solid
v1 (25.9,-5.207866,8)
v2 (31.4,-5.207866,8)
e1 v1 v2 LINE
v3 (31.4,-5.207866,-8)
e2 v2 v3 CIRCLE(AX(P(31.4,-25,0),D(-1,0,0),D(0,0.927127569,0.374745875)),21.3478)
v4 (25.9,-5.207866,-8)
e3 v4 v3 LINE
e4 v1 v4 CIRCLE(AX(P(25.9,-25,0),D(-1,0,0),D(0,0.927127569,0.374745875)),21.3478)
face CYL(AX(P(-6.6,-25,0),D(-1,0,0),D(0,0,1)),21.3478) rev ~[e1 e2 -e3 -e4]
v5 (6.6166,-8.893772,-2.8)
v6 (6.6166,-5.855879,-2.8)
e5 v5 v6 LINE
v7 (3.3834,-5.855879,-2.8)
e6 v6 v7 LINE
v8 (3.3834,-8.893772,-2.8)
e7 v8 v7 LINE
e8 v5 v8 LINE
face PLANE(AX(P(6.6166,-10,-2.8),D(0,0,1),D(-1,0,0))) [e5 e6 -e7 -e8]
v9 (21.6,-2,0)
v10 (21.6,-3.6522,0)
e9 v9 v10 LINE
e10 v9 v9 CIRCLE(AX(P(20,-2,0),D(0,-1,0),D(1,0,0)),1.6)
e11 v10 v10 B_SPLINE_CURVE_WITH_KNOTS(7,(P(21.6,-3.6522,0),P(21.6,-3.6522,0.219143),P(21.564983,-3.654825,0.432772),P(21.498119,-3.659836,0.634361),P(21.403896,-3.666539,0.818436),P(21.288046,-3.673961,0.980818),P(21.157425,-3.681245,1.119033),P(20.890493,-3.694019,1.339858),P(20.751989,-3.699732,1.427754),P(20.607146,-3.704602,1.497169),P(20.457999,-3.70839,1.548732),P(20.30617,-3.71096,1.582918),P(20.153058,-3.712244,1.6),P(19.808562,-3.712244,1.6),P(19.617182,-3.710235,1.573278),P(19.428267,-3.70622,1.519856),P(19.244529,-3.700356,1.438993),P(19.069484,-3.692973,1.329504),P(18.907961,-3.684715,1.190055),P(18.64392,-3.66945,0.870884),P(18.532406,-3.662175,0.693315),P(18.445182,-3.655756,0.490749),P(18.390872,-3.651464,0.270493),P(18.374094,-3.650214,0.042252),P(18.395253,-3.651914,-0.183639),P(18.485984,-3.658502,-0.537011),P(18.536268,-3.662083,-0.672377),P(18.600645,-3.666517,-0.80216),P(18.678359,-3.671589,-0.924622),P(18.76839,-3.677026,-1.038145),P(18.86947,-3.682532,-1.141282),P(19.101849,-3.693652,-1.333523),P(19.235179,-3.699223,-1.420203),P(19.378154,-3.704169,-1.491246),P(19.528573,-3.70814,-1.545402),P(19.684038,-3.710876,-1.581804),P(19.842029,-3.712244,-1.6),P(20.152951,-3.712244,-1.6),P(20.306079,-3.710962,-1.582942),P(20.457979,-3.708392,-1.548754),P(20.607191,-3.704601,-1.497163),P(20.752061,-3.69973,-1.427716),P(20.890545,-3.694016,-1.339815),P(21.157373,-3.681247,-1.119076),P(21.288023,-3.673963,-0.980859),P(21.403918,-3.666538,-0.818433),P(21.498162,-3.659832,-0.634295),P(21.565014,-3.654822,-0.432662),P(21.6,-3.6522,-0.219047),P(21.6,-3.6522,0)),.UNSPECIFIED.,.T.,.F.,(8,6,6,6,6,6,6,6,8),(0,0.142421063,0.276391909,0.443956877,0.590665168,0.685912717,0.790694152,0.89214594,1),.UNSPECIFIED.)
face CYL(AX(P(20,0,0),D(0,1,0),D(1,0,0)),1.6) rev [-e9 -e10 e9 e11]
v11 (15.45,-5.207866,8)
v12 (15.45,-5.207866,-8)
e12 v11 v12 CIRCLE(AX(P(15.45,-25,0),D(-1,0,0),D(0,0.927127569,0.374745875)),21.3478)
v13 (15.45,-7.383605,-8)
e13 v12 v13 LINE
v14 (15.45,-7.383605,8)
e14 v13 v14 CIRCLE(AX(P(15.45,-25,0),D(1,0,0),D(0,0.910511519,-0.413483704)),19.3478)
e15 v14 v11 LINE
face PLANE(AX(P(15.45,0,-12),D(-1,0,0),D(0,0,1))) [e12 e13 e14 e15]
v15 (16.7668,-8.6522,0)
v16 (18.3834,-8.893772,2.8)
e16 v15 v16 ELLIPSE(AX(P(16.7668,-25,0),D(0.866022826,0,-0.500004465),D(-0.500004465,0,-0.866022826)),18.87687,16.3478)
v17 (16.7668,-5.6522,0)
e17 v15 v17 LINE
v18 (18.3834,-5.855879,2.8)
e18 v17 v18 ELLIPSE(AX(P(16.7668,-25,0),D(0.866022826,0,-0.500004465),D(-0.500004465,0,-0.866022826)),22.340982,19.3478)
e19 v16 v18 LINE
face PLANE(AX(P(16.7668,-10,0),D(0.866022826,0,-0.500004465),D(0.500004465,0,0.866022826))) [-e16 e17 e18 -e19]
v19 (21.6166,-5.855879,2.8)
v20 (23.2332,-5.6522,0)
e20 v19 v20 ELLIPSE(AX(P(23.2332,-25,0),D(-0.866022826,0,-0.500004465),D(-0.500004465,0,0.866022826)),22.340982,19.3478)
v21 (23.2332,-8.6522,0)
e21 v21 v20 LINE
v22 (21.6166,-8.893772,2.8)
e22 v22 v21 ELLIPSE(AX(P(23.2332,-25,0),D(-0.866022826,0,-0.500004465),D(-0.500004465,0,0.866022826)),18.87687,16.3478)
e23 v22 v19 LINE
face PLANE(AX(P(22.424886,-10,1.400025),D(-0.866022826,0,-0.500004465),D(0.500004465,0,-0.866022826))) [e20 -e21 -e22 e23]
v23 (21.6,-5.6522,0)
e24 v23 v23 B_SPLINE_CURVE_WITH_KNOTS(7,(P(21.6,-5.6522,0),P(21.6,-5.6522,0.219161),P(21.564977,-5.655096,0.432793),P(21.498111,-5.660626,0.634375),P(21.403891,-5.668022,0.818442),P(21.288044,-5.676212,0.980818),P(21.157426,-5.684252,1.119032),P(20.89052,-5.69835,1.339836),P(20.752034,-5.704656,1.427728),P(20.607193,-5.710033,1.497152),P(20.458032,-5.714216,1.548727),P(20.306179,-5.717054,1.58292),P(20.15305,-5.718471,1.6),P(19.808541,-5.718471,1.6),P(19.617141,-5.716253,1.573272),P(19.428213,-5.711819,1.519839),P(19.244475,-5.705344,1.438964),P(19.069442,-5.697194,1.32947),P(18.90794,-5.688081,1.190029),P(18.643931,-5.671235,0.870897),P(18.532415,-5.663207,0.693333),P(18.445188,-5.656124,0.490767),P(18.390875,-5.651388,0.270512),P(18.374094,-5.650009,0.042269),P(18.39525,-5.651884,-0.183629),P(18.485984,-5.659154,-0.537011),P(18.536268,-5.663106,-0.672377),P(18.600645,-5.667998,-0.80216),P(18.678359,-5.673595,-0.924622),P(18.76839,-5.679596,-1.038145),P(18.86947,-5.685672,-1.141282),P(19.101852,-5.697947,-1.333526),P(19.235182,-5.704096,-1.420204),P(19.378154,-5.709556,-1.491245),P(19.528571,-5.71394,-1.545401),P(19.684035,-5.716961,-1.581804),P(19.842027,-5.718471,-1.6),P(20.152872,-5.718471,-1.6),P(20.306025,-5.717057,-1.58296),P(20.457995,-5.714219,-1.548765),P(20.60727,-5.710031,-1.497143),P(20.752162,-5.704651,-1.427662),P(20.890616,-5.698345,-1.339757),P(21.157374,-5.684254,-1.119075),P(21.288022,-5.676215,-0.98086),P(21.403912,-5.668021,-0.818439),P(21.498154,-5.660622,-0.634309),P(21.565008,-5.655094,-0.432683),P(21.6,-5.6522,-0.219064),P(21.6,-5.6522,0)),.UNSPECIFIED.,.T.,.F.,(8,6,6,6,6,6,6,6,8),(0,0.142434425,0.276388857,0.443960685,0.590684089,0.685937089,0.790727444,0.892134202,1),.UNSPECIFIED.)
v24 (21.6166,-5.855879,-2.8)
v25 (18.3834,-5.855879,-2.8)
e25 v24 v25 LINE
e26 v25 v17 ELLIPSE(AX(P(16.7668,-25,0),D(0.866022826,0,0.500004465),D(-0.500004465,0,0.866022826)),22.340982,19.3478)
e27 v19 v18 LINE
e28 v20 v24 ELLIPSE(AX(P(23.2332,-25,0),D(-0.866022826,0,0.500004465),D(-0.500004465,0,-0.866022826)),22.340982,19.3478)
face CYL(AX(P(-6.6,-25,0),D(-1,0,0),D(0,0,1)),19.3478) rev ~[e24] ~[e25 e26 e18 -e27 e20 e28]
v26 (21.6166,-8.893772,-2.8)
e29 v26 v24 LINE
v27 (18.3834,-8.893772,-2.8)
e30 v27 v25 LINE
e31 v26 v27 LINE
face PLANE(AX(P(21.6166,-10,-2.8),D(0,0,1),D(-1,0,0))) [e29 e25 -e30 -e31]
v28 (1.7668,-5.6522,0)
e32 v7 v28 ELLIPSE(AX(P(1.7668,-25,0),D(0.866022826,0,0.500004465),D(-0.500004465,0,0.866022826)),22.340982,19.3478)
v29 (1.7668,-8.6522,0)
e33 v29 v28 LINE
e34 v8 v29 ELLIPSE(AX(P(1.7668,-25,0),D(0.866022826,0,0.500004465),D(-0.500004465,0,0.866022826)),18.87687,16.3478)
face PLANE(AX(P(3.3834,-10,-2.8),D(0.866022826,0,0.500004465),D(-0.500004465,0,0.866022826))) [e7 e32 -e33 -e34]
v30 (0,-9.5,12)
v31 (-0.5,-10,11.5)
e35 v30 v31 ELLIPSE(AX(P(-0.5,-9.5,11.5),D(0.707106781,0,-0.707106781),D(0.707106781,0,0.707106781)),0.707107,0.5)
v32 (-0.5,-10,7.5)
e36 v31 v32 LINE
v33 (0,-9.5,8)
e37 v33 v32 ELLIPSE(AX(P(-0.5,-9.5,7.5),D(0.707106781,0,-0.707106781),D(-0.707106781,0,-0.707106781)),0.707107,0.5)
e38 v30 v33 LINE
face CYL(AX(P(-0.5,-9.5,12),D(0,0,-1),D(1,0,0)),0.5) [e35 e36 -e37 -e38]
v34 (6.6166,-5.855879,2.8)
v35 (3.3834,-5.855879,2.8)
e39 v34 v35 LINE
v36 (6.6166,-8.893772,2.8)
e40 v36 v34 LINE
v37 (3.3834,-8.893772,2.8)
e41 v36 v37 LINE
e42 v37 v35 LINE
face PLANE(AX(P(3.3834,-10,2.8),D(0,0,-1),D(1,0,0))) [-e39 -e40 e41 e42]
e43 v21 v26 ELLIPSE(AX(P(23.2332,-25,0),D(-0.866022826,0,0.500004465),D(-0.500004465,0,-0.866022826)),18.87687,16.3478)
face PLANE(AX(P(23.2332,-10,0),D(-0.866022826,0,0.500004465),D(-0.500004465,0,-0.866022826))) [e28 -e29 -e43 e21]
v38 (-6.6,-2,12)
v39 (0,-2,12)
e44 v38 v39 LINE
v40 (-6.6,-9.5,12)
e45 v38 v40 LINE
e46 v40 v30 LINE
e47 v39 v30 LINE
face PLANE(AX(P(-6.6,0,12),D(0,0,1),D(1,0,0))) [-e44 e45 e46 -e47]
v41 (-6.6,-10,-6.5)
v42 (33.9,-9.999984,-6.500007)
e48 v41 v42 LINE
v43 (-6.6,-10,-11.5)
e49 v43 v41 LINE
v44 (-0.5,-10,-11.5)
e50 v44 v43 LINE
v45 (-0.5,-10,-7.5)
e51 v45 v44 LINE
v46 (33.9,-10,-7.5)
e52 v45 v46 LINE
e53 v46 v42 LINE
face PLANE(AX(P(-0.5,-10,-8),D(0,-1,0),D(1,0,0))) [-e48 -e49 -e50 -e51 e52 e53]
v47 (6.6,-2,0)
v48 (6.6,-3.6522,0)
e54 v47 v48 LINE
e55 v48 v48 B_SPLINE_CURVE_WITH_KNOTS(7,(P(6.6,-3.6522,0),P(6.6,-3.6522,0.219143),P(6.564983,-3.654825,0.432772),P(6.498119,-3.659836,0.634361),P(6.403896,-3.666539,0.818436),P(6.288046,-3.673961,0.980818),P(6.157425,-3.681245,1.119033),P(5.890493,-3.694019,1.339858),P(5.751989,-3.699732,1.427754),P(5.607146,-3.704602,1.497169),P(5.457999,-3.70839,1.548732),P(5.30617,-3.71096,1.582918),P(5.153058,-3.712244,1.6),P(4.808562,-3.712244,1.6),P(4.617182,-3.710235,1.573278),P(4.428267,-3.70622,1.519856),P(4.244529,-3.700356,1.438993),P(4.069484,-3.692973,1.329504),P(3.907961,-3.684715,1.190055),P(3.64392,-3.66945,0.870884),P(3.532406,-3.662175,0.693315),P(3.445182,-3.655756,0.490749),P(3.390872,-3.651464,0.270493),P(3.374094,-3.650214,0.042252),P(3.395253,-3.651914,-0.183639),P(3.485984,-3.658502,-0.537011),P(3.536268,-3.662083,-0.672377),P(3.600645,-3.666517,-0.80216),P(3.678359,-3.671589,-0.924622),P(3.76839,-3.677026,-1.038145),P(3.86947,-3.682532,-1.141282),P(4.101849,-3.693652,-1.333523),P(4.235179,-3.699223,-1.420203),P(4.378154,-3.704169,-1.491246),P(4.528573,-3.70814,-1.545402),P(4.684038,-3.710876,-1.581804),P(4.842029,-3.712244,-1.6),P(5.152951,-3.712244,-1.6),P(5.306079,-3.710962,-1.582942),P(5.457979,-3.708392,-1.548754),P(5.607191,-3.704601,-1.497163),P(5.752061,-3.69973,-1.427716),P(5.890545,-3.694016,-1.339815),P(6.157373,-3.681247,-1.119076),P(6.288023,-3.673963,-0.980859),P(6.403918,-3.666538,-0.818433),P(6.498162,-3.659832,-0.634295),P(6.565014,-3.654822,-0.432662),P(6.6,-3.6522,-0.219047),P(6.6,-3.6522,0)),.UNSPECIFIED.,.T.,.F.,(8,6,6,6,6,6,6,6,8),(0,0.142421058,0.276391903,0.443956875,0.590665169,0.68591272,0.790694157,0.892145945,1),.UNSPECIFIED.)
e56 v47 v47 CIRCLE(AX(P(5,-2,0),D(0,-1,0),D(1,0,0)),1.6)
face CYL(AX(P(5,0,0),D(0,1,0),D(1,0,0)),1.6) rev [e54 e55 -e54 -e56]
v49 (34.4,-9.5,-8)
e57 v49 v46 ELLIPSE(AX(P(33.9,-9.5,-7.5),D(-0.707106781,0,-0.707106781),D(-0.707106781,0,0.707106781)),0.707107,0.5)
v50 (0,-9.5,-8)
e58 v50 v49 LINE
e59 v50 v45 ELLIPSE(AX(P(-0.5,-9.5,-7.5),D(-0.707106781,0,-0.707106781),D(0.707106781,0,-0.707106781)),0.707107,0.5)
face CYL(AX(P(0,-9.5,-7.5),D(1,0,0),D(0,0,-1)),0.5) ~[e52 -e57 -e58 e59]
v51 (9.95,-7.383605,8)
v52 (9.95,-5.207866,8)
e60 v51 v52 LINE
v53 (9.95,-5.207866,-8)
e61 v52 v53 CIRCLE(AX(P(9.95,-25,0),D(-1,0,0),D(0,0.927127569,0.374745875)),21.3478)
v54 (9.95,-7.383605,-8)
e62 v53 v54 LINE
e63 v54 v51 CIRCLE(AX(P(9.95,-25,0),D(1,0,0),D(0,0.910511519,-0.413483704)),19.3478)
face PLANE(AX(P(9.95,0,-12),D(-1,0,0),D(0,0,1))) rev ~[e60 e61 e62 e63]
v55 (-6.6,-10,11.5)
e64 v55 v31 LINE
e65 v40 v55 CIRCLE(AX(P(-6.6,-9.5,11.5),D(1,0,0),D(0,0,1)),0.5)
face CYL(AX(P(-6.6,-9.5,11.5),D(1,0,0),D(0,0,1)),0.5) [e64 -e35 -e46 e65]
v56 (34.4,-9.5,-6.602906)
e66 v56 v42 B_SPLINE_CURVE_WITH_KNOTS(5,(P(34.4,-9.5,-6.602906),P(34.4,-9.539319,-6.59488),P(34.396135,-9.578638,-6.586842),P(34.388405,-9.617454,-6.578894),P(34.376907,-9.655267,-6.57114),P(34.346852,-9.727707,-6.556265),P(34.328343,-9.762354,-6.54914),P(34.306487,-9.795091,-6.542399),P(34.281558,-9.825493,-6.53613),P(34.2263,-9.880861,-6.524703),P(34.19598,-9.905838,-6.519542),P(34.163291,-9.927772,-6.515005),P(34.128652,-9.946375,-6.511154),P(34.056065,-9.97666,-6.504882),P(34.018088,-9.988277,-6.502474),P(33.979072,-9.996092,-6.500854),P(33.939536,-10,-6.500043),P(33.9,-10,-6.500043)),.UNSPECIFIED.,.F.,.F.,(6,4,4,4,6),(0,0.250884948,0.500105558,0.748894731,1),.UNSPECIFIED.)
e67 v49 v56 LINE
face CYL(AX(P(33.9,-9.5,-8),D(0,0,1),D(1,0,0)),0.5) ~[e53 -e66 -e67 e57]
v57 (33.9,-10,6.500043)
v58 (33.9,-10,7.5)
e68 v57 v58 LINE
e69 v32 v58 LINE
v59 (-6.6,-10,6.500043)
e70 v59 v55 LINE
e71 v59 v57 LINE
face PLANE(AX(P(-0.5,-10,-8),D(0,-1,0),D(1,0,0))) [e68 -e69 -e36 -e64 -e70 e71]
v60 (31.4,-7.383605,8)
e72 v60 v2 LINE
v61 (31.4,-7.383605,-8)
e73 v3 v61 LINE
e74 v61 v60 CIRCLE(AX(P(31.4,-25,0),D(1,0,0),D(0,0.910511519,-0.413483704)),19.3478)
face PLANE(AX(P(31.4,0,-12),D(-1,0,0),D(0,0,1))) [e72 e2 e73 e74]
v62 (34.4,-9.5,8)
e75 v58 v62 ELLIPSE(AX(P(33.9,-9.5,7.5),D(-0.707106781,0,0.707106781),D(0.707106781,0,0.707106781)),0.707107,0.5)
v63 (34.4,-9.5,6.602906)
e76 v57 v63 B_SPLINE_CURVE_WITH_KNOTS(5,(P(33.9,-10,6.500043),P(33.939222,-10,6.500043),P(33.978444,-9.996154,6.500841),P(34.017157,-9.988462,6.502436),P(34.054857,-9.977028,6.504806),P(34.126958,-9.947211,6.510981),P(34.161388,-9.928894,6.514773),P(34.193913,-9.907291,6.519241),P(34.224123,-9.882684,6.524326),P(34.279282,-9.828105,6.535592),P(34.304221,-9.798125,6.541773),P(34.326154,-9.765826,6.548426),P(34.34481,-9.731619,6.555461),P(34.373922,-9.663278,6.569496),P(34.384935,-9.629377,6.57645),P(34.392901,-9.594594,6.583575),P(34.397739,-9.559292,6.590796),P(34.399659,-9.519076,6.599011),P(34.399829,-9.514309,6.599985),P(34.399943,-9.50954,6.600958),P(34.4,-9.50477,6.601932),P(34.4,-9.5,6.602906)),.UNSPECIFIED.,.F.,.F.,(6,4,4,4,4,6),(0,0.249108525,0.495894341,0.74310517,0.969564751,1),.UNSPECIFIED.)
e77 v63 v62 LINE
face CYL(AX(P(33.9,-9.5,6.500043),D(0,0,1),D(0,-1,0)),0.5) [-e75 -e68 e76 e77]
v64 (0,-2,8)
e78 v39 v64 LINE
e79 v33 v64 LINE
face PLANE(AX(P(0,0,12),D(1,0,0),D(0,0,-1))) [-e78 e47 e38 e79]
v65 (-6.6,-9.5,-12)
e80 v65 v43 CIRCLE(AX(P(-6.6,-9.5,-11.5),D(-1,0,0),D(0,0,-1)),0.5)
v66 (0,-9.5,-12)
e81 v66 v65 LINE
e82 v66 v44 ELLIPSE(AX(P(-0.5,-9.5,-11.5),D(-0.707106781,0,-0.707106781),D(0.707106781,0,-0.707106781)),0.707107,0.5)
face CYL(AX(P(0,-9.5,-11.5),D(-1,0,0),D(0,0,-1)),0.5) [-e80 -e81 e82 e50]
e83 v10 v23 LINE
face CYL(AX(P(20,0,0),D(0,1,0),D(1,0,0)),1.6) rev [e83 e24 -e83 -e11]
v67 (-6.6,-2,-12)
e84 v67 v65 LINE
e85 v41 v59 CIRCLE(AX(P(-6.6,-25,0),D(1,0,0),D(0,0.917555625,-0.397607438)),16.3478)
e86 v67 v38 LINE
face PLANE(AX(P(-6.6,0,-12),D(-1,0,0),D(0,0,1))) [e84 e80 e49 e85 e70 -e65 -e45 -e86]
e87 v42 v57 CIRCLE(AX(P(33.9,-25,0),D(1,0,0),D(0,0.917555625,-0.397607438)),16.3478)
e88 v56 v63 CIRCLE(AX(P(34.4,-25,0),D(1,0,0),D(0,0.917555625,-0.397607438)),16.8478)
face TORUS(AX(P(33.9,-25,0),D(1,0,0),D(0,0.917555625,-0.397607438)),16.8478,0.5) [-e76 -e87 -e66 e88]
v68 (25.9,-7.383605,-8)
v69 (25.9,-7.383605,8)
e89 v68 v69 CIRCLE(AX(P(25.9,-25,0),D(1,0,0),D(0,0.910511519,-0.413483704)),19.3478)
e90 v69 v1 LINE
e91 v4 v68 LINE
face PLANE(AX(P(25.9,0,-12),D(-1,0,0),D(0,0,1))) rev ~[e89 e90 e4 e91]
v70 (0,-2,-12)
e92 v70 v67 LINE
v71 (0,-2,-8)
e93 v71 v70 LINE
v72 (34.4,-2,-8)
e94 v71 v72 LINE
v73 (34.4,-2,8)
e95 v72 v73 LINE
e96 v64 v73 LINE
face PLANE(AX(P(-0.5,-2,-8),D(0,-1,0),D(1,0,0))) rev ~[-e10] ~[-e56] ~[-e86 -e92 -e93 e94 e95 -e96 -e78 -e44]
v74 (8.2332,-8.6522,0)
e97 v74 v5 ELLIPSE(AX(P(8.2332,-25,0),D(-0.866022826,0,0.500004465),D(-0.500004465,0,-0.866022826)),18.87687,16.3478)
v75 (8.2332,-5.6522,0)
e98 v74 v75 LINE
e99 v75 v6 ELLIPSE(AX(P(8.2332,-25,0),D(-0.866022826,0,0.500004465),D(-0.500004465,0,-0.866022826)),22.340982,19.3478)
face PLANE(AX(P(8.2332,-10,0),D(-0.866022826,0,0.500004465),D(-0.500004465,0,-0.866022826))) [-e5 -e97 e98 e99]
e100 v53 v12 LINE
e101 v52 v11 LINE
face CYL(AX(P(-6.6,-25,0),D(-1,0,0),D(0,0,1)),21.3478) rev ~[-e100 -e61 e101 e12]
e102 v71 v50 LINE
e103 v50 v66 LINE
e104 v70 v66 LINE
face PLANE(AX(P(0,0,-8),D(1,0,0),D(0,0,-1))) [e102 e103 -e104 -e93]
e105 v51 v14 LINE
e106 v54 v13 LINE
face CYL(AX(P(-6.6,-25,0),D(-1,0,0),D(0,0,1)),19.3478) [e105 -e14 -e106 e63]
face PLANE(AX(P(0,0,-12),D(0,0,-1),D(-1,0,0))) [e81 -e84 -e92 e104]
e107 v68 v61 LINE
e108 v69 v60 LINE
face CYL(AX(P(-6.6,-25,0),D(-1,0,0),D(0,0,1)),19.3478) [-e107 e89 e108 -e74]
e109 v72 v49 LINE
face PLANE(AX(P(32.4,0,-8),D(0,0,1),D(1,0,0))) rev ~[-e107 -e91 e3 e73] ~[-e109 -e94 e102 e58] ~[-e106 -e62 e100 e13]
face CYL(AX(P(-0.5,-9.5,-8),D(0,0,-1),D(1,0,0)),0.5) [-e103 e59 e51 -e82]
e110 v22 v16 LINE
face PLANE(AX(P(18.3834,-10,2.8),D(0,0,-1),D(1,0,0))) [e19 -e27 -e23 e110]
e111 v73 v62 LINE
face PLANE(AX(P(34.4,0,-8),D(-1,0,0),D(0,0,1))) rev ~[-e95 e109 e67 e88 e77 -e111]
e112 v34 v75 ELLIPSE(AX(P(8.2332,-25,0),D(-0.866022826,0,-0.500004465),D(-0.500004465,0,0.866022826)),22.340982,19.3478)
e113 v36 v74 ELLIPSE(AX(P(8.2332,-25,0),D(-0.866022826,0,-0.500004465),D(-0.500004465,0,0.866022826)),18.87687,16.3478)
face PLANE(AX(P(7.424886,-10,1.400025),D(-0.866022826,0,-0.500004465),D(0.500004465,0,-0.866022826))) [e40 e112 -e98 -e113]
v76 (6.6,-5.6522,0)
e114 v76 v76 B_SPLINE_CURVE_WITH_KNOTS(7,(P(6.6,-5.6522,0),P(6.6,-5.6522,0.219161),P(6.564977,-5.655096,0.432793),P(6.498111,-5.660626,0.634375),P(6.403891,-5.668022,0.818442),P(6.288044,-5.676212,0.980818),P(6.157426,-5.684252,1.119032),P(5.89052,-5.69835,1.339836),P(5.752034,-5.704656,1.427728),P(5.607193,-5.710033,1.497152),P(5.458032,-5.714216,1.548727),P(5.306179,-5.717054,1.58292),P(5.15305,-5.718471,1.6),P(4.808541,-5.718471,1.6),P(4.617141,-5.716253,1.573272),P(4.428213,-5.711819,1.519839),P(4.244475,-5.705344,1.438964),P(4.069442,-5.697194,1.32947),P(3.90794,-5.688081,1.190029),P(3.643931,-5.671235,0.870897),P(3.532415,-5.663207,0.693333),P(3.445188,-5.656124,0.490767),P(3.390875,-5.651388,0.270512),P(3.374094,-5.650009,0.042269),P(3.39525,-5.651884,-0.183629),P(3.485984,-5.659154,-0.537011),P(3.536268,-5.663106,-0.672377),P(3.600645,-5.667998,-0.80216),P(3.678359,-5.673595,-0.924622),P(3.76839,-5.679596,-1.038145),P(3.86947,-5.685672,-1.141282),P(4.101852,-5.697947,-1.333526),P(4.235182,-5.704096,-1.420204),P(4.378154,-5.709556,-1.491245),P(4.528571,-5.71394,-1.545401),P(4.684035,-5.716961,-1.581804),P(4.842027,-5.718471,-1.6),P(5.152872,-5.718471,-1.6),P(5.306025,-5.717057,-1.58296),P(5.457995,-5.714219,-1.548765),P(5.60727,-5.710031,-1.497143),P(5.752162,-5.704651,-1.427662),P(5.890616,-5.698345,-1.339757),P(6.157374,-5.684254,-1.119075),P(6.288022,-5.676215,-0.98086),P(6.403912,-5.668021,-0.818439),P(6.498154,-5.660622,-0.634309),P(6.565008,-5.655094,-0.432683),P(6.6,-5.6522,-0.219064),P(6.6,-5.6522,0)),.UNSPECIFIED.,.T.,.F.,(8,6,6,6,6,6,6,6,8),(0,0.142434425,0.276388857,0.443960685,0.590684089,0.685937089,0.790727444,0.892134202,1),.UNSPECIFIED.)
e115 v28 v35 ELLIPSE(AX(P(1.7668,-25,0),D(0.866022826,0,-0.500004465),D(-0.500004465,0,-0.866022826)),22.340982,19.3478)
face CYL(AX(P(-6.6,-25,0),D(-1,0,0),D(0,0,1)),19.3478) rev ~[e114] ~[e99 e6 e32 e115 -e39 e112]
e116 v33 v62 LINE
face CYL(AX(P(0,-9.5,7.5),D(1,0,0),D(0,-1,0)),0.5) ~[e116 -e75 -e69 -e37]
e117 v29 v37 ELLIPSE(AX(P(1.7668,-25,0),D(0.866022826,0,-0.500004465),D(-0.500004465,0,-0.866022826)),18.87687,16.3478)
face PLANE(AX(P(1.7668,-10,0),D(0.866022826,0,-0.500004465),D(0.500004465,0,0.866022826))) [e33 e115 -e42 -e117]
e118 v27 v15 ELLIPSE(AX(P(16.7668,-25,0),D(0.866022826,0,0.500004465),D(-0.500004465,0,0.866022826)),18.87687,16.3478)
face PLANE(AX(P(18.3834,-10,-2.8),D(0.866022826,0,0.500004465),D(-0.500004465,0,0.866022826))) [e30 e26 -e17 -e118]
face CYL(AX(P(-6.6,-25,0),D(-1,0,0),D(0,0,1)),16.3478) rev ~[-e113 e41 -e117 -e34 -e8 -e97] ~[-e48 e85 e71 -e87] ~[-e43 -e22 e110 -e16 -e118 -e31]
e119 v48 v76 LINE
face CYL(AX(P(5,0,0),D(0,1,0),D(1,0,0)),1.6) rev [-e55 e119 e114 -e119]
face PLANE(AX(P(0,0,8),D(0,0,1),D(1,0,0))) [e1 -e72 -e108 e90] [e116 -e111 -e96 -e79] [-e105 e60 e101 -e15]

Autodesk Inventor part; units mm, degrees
ref_plane "YZ Plane" through (0, 0, 0) normal (1, 0, 0) x (0, 1, 0)
ref_plane "XZ Plane" through (0, 0, 0) normal (0, 1, 0) x (-1, 0, 0)
ref_plane "XY Plane" through (0, 0, 0) normal (0, 0, 1) x (1, 0, 0)
ref_plane "Arbeitsebene1" through (-0.5, 0, -8) normal (0, -1, 0) x (1, 0, 0)
sketch "Skizze1" plane through (-0.5, 0, -8) normal (0, -1, 0) x (1, 0, 0)
  line L0 (-6.1, 20) -> (0.5, 20)
  line L1 (0.5, 20) -> (0.5, -4)
  line L2 (0.5, -4) -> (-6.1, -4)
  line L3 (-6.1, -4) -> (-6.1, 20)
  line L4 (0.5, 0) -> (32.9, 0) projected
  line L5 (0.5, 16) -> (34.9, 16) projected
  line L6 (0.5, 0) -> (34.9, 0)
  line L7 (34.9, 0) -> (34.9, 16)
  line L8 (34.9, 16) -> (0.5, 16)
  line L9 (0.5, 16) -> (0.5, 0)
  circle A0 centre (5.5, 8) radius 1.6 projected
  circle A1 centre (5.5, 8) radius 1.6
  circle A2 centre (20.5, 8) radius 1.6 projected
  circle A3 centre (20.5, 8) radius 1.6
  circle A4 centre (5.5, 8) radius 2.75
  circle A5 centre (20.5, 8) radius 2.75
  point P0 (0.5, 8)
  dimension "d0" = 5.5
  dimension "d1" = 5.5
extrude "Extrusion1" add sketch "Skizze1" along normal blind 10 contours L0 L1 L2 L3 | L5 L7 L6 L4 L1 | A4 | A5
ref_plane "Arbeitsebene2" through (-6.6, 0, -12) normal (-1, 0, 0) x (0, 0, 1)
sketch "Skizze2" plane through (-6.6, 0, -12) normal (-1, 0, 0) x (0, 0, 1)
  line L0 (0, -10) -> (4, -10) projected
  line L1 (0, -10) -> (24, -10)
  line L2 (24, -10) -> (24, -25)
  line L3 (24, -25) -> (0, -25)
  line L4 (0, -25) -> (0, -10)
  line L5 (0, 0) -> (0, -10) projected
  line L6 (0, 0) -> (4, 0) projected
  line L7 (0, -10) -> (2, -10)
  line L8 (2, -10) -> (2, 0)
  line L9 (2, 0) -> (0, 0)
  line L10 (0, 0) -> (0, -10)
  line L11 (4, 0) -> (4, -10) projected
  line L12 (4, -10) -> (20, -10)
  line L13 (20, -10) -> (20, -20)
  line L14 (20, -20) -> (4, -20)
  line L15 (4, -20) -> (4, -10)
  line L16 (4, -10) -> (5.5, -10)
  line L17 (5.5, -10) -> (5.5, -20)
  line L18 (5.5, -20) -> (4, -20)
  line L19 (4, -20) -> (4, -10)
  circle A0 centre (12, -25) radius 16.3478
  line L20 (12, -8.6522) -> (12, -5.6522)
  line L21 (12, -5.6522) -> (12, -3.6522)
  circle A1 centre (12, -25) radius 19.3478
  circle A2 centre (12, -25) radius 21.3478
  line L22 (4, -20) -> (20, -20)
  line L23 (20, -20) -> (20, 0)
  line L24 (20, 0) -> (4, 0)
  line L25 (4, 0) -> (4, -20)
  point P0 (12, 0)
  point P1 (18.5, -10)
  point P2 (20, -7.3836)
  point P3 (20, -5.2079)
  point P4 (4, -5.2079)
  point P5 (4, -7.3836)
  dimension "d4" = 15
  dimension "d5" = 16
  dimension "d6" = 10
  dimension "d7" = 1.5
  dimension "d14" = 3
  dimension "d15" = 2
extrude "Extrusion2" cut sketch "Skizze2" against normal up to surface (41 mm away) contours A0 L1
sketch "Skizze4" plane through (-0.5, -10, -8) normal (0, -1, 0) x (1, 0, 0)
  circle A0 centre (20.5, 8) radius 1.6 projected
  circle A1 centre (20.5, 8) radius 2.8
  circle A2 centre (5.5, 8) radius 1.6 projected
  circle A3 centre (5.5, 8) radius 2.8
  line L0 (7.1166, 10.8) -> (8.7332, 8)
  line L1 (8.7332, 8) -> (7.1166, 5.2)
  line L2 (7.1166, 5.2) -> (3.8834, 5.2)
  line L3 (3.8834, 5.2) -> (2.2668, 8)
  line L4 (2.2668, 8) -> (3.8834, 10.8)
  line L5 (3.8834, 10.8) -> (7.1166, 10.8)
  line L6 (22.1166, 10.8) -> (23.7332, 8)
  line L7 (23.7332, 8) -> (22.1166, 5.2)
  line L8 (22.1166, 5.2) -> (18.8834, 5.2)
  line L9 (18.8834, 5.2) -> (17.2668, 8)
  line L10 (17.2668, 8) -> (18.8834, 10.8)
  line L11 (18.8834, 10.8) -> (22.1166, 10.8)
  point P0 (0.5, 8)
  point P1 (5.5, 10.8)
  point P2 (20.5, 10.8)
  dimension "d29" = 5.6
  dimension "d30" = 5.6
extrude "Extrusion3" cut sketch "Skizze4" against normal blind 5 contours A0 | A1 | A1 L6 L7 | A1 L11 L6 | L7 L8 A1 | A1 L10 L11 | L8 L9 A1 | A1 L9 L10 | A2 | A3 | A3 L0 L1 | A3 L5 L0 | L1 L2 A3 | A3 L4 L5 | L2 L3 A3 | A3 L3 L4
extrude "Extrusion4" cut sketch "Skizze2" against normal blind 38 contours L11 A2 L21 A1 | A1 L21 A2 L23
extrude "Extrusion5" add sketch "Skizze2" against normal blind 32.5 contours L11 A2 L21 A1 | A1 L21 A2 L23
extrude "Extrusion6" cut sketch "Skizze2" against normal blind 22.05 contours L11 A2 L21 A1 | A1 L21 A2 L23
extrude "Extrusion7" add sketch "Skizze2" against normal blind 16.55 contours L11 A2 L21 A1 | A1 L21 A2 L23
extrude "Extrusion8" cut sketch "Skizze1" along normal blind 16.55 contours A0 | A2
extrude "Extrusion9" cut sketch "Skizze1" along normal blind 2 contours L0 L1 L2 L3 | L5 L7 L6 L4 L1 | A4 | A5
fillet "Rundung1" radius 0.5 9 edges at (-3.3, -10, 12) (0, -10, 10) (17.2, -10, 8) (34.4, -10, 7.25) (34.4, -8.6522, 0) (34.4, -10, -7.25) (17.2, -10, -8) (0, -10, -10) (-3.3, -10, -12)
properties part number "OBS-Displaymountadapter"
